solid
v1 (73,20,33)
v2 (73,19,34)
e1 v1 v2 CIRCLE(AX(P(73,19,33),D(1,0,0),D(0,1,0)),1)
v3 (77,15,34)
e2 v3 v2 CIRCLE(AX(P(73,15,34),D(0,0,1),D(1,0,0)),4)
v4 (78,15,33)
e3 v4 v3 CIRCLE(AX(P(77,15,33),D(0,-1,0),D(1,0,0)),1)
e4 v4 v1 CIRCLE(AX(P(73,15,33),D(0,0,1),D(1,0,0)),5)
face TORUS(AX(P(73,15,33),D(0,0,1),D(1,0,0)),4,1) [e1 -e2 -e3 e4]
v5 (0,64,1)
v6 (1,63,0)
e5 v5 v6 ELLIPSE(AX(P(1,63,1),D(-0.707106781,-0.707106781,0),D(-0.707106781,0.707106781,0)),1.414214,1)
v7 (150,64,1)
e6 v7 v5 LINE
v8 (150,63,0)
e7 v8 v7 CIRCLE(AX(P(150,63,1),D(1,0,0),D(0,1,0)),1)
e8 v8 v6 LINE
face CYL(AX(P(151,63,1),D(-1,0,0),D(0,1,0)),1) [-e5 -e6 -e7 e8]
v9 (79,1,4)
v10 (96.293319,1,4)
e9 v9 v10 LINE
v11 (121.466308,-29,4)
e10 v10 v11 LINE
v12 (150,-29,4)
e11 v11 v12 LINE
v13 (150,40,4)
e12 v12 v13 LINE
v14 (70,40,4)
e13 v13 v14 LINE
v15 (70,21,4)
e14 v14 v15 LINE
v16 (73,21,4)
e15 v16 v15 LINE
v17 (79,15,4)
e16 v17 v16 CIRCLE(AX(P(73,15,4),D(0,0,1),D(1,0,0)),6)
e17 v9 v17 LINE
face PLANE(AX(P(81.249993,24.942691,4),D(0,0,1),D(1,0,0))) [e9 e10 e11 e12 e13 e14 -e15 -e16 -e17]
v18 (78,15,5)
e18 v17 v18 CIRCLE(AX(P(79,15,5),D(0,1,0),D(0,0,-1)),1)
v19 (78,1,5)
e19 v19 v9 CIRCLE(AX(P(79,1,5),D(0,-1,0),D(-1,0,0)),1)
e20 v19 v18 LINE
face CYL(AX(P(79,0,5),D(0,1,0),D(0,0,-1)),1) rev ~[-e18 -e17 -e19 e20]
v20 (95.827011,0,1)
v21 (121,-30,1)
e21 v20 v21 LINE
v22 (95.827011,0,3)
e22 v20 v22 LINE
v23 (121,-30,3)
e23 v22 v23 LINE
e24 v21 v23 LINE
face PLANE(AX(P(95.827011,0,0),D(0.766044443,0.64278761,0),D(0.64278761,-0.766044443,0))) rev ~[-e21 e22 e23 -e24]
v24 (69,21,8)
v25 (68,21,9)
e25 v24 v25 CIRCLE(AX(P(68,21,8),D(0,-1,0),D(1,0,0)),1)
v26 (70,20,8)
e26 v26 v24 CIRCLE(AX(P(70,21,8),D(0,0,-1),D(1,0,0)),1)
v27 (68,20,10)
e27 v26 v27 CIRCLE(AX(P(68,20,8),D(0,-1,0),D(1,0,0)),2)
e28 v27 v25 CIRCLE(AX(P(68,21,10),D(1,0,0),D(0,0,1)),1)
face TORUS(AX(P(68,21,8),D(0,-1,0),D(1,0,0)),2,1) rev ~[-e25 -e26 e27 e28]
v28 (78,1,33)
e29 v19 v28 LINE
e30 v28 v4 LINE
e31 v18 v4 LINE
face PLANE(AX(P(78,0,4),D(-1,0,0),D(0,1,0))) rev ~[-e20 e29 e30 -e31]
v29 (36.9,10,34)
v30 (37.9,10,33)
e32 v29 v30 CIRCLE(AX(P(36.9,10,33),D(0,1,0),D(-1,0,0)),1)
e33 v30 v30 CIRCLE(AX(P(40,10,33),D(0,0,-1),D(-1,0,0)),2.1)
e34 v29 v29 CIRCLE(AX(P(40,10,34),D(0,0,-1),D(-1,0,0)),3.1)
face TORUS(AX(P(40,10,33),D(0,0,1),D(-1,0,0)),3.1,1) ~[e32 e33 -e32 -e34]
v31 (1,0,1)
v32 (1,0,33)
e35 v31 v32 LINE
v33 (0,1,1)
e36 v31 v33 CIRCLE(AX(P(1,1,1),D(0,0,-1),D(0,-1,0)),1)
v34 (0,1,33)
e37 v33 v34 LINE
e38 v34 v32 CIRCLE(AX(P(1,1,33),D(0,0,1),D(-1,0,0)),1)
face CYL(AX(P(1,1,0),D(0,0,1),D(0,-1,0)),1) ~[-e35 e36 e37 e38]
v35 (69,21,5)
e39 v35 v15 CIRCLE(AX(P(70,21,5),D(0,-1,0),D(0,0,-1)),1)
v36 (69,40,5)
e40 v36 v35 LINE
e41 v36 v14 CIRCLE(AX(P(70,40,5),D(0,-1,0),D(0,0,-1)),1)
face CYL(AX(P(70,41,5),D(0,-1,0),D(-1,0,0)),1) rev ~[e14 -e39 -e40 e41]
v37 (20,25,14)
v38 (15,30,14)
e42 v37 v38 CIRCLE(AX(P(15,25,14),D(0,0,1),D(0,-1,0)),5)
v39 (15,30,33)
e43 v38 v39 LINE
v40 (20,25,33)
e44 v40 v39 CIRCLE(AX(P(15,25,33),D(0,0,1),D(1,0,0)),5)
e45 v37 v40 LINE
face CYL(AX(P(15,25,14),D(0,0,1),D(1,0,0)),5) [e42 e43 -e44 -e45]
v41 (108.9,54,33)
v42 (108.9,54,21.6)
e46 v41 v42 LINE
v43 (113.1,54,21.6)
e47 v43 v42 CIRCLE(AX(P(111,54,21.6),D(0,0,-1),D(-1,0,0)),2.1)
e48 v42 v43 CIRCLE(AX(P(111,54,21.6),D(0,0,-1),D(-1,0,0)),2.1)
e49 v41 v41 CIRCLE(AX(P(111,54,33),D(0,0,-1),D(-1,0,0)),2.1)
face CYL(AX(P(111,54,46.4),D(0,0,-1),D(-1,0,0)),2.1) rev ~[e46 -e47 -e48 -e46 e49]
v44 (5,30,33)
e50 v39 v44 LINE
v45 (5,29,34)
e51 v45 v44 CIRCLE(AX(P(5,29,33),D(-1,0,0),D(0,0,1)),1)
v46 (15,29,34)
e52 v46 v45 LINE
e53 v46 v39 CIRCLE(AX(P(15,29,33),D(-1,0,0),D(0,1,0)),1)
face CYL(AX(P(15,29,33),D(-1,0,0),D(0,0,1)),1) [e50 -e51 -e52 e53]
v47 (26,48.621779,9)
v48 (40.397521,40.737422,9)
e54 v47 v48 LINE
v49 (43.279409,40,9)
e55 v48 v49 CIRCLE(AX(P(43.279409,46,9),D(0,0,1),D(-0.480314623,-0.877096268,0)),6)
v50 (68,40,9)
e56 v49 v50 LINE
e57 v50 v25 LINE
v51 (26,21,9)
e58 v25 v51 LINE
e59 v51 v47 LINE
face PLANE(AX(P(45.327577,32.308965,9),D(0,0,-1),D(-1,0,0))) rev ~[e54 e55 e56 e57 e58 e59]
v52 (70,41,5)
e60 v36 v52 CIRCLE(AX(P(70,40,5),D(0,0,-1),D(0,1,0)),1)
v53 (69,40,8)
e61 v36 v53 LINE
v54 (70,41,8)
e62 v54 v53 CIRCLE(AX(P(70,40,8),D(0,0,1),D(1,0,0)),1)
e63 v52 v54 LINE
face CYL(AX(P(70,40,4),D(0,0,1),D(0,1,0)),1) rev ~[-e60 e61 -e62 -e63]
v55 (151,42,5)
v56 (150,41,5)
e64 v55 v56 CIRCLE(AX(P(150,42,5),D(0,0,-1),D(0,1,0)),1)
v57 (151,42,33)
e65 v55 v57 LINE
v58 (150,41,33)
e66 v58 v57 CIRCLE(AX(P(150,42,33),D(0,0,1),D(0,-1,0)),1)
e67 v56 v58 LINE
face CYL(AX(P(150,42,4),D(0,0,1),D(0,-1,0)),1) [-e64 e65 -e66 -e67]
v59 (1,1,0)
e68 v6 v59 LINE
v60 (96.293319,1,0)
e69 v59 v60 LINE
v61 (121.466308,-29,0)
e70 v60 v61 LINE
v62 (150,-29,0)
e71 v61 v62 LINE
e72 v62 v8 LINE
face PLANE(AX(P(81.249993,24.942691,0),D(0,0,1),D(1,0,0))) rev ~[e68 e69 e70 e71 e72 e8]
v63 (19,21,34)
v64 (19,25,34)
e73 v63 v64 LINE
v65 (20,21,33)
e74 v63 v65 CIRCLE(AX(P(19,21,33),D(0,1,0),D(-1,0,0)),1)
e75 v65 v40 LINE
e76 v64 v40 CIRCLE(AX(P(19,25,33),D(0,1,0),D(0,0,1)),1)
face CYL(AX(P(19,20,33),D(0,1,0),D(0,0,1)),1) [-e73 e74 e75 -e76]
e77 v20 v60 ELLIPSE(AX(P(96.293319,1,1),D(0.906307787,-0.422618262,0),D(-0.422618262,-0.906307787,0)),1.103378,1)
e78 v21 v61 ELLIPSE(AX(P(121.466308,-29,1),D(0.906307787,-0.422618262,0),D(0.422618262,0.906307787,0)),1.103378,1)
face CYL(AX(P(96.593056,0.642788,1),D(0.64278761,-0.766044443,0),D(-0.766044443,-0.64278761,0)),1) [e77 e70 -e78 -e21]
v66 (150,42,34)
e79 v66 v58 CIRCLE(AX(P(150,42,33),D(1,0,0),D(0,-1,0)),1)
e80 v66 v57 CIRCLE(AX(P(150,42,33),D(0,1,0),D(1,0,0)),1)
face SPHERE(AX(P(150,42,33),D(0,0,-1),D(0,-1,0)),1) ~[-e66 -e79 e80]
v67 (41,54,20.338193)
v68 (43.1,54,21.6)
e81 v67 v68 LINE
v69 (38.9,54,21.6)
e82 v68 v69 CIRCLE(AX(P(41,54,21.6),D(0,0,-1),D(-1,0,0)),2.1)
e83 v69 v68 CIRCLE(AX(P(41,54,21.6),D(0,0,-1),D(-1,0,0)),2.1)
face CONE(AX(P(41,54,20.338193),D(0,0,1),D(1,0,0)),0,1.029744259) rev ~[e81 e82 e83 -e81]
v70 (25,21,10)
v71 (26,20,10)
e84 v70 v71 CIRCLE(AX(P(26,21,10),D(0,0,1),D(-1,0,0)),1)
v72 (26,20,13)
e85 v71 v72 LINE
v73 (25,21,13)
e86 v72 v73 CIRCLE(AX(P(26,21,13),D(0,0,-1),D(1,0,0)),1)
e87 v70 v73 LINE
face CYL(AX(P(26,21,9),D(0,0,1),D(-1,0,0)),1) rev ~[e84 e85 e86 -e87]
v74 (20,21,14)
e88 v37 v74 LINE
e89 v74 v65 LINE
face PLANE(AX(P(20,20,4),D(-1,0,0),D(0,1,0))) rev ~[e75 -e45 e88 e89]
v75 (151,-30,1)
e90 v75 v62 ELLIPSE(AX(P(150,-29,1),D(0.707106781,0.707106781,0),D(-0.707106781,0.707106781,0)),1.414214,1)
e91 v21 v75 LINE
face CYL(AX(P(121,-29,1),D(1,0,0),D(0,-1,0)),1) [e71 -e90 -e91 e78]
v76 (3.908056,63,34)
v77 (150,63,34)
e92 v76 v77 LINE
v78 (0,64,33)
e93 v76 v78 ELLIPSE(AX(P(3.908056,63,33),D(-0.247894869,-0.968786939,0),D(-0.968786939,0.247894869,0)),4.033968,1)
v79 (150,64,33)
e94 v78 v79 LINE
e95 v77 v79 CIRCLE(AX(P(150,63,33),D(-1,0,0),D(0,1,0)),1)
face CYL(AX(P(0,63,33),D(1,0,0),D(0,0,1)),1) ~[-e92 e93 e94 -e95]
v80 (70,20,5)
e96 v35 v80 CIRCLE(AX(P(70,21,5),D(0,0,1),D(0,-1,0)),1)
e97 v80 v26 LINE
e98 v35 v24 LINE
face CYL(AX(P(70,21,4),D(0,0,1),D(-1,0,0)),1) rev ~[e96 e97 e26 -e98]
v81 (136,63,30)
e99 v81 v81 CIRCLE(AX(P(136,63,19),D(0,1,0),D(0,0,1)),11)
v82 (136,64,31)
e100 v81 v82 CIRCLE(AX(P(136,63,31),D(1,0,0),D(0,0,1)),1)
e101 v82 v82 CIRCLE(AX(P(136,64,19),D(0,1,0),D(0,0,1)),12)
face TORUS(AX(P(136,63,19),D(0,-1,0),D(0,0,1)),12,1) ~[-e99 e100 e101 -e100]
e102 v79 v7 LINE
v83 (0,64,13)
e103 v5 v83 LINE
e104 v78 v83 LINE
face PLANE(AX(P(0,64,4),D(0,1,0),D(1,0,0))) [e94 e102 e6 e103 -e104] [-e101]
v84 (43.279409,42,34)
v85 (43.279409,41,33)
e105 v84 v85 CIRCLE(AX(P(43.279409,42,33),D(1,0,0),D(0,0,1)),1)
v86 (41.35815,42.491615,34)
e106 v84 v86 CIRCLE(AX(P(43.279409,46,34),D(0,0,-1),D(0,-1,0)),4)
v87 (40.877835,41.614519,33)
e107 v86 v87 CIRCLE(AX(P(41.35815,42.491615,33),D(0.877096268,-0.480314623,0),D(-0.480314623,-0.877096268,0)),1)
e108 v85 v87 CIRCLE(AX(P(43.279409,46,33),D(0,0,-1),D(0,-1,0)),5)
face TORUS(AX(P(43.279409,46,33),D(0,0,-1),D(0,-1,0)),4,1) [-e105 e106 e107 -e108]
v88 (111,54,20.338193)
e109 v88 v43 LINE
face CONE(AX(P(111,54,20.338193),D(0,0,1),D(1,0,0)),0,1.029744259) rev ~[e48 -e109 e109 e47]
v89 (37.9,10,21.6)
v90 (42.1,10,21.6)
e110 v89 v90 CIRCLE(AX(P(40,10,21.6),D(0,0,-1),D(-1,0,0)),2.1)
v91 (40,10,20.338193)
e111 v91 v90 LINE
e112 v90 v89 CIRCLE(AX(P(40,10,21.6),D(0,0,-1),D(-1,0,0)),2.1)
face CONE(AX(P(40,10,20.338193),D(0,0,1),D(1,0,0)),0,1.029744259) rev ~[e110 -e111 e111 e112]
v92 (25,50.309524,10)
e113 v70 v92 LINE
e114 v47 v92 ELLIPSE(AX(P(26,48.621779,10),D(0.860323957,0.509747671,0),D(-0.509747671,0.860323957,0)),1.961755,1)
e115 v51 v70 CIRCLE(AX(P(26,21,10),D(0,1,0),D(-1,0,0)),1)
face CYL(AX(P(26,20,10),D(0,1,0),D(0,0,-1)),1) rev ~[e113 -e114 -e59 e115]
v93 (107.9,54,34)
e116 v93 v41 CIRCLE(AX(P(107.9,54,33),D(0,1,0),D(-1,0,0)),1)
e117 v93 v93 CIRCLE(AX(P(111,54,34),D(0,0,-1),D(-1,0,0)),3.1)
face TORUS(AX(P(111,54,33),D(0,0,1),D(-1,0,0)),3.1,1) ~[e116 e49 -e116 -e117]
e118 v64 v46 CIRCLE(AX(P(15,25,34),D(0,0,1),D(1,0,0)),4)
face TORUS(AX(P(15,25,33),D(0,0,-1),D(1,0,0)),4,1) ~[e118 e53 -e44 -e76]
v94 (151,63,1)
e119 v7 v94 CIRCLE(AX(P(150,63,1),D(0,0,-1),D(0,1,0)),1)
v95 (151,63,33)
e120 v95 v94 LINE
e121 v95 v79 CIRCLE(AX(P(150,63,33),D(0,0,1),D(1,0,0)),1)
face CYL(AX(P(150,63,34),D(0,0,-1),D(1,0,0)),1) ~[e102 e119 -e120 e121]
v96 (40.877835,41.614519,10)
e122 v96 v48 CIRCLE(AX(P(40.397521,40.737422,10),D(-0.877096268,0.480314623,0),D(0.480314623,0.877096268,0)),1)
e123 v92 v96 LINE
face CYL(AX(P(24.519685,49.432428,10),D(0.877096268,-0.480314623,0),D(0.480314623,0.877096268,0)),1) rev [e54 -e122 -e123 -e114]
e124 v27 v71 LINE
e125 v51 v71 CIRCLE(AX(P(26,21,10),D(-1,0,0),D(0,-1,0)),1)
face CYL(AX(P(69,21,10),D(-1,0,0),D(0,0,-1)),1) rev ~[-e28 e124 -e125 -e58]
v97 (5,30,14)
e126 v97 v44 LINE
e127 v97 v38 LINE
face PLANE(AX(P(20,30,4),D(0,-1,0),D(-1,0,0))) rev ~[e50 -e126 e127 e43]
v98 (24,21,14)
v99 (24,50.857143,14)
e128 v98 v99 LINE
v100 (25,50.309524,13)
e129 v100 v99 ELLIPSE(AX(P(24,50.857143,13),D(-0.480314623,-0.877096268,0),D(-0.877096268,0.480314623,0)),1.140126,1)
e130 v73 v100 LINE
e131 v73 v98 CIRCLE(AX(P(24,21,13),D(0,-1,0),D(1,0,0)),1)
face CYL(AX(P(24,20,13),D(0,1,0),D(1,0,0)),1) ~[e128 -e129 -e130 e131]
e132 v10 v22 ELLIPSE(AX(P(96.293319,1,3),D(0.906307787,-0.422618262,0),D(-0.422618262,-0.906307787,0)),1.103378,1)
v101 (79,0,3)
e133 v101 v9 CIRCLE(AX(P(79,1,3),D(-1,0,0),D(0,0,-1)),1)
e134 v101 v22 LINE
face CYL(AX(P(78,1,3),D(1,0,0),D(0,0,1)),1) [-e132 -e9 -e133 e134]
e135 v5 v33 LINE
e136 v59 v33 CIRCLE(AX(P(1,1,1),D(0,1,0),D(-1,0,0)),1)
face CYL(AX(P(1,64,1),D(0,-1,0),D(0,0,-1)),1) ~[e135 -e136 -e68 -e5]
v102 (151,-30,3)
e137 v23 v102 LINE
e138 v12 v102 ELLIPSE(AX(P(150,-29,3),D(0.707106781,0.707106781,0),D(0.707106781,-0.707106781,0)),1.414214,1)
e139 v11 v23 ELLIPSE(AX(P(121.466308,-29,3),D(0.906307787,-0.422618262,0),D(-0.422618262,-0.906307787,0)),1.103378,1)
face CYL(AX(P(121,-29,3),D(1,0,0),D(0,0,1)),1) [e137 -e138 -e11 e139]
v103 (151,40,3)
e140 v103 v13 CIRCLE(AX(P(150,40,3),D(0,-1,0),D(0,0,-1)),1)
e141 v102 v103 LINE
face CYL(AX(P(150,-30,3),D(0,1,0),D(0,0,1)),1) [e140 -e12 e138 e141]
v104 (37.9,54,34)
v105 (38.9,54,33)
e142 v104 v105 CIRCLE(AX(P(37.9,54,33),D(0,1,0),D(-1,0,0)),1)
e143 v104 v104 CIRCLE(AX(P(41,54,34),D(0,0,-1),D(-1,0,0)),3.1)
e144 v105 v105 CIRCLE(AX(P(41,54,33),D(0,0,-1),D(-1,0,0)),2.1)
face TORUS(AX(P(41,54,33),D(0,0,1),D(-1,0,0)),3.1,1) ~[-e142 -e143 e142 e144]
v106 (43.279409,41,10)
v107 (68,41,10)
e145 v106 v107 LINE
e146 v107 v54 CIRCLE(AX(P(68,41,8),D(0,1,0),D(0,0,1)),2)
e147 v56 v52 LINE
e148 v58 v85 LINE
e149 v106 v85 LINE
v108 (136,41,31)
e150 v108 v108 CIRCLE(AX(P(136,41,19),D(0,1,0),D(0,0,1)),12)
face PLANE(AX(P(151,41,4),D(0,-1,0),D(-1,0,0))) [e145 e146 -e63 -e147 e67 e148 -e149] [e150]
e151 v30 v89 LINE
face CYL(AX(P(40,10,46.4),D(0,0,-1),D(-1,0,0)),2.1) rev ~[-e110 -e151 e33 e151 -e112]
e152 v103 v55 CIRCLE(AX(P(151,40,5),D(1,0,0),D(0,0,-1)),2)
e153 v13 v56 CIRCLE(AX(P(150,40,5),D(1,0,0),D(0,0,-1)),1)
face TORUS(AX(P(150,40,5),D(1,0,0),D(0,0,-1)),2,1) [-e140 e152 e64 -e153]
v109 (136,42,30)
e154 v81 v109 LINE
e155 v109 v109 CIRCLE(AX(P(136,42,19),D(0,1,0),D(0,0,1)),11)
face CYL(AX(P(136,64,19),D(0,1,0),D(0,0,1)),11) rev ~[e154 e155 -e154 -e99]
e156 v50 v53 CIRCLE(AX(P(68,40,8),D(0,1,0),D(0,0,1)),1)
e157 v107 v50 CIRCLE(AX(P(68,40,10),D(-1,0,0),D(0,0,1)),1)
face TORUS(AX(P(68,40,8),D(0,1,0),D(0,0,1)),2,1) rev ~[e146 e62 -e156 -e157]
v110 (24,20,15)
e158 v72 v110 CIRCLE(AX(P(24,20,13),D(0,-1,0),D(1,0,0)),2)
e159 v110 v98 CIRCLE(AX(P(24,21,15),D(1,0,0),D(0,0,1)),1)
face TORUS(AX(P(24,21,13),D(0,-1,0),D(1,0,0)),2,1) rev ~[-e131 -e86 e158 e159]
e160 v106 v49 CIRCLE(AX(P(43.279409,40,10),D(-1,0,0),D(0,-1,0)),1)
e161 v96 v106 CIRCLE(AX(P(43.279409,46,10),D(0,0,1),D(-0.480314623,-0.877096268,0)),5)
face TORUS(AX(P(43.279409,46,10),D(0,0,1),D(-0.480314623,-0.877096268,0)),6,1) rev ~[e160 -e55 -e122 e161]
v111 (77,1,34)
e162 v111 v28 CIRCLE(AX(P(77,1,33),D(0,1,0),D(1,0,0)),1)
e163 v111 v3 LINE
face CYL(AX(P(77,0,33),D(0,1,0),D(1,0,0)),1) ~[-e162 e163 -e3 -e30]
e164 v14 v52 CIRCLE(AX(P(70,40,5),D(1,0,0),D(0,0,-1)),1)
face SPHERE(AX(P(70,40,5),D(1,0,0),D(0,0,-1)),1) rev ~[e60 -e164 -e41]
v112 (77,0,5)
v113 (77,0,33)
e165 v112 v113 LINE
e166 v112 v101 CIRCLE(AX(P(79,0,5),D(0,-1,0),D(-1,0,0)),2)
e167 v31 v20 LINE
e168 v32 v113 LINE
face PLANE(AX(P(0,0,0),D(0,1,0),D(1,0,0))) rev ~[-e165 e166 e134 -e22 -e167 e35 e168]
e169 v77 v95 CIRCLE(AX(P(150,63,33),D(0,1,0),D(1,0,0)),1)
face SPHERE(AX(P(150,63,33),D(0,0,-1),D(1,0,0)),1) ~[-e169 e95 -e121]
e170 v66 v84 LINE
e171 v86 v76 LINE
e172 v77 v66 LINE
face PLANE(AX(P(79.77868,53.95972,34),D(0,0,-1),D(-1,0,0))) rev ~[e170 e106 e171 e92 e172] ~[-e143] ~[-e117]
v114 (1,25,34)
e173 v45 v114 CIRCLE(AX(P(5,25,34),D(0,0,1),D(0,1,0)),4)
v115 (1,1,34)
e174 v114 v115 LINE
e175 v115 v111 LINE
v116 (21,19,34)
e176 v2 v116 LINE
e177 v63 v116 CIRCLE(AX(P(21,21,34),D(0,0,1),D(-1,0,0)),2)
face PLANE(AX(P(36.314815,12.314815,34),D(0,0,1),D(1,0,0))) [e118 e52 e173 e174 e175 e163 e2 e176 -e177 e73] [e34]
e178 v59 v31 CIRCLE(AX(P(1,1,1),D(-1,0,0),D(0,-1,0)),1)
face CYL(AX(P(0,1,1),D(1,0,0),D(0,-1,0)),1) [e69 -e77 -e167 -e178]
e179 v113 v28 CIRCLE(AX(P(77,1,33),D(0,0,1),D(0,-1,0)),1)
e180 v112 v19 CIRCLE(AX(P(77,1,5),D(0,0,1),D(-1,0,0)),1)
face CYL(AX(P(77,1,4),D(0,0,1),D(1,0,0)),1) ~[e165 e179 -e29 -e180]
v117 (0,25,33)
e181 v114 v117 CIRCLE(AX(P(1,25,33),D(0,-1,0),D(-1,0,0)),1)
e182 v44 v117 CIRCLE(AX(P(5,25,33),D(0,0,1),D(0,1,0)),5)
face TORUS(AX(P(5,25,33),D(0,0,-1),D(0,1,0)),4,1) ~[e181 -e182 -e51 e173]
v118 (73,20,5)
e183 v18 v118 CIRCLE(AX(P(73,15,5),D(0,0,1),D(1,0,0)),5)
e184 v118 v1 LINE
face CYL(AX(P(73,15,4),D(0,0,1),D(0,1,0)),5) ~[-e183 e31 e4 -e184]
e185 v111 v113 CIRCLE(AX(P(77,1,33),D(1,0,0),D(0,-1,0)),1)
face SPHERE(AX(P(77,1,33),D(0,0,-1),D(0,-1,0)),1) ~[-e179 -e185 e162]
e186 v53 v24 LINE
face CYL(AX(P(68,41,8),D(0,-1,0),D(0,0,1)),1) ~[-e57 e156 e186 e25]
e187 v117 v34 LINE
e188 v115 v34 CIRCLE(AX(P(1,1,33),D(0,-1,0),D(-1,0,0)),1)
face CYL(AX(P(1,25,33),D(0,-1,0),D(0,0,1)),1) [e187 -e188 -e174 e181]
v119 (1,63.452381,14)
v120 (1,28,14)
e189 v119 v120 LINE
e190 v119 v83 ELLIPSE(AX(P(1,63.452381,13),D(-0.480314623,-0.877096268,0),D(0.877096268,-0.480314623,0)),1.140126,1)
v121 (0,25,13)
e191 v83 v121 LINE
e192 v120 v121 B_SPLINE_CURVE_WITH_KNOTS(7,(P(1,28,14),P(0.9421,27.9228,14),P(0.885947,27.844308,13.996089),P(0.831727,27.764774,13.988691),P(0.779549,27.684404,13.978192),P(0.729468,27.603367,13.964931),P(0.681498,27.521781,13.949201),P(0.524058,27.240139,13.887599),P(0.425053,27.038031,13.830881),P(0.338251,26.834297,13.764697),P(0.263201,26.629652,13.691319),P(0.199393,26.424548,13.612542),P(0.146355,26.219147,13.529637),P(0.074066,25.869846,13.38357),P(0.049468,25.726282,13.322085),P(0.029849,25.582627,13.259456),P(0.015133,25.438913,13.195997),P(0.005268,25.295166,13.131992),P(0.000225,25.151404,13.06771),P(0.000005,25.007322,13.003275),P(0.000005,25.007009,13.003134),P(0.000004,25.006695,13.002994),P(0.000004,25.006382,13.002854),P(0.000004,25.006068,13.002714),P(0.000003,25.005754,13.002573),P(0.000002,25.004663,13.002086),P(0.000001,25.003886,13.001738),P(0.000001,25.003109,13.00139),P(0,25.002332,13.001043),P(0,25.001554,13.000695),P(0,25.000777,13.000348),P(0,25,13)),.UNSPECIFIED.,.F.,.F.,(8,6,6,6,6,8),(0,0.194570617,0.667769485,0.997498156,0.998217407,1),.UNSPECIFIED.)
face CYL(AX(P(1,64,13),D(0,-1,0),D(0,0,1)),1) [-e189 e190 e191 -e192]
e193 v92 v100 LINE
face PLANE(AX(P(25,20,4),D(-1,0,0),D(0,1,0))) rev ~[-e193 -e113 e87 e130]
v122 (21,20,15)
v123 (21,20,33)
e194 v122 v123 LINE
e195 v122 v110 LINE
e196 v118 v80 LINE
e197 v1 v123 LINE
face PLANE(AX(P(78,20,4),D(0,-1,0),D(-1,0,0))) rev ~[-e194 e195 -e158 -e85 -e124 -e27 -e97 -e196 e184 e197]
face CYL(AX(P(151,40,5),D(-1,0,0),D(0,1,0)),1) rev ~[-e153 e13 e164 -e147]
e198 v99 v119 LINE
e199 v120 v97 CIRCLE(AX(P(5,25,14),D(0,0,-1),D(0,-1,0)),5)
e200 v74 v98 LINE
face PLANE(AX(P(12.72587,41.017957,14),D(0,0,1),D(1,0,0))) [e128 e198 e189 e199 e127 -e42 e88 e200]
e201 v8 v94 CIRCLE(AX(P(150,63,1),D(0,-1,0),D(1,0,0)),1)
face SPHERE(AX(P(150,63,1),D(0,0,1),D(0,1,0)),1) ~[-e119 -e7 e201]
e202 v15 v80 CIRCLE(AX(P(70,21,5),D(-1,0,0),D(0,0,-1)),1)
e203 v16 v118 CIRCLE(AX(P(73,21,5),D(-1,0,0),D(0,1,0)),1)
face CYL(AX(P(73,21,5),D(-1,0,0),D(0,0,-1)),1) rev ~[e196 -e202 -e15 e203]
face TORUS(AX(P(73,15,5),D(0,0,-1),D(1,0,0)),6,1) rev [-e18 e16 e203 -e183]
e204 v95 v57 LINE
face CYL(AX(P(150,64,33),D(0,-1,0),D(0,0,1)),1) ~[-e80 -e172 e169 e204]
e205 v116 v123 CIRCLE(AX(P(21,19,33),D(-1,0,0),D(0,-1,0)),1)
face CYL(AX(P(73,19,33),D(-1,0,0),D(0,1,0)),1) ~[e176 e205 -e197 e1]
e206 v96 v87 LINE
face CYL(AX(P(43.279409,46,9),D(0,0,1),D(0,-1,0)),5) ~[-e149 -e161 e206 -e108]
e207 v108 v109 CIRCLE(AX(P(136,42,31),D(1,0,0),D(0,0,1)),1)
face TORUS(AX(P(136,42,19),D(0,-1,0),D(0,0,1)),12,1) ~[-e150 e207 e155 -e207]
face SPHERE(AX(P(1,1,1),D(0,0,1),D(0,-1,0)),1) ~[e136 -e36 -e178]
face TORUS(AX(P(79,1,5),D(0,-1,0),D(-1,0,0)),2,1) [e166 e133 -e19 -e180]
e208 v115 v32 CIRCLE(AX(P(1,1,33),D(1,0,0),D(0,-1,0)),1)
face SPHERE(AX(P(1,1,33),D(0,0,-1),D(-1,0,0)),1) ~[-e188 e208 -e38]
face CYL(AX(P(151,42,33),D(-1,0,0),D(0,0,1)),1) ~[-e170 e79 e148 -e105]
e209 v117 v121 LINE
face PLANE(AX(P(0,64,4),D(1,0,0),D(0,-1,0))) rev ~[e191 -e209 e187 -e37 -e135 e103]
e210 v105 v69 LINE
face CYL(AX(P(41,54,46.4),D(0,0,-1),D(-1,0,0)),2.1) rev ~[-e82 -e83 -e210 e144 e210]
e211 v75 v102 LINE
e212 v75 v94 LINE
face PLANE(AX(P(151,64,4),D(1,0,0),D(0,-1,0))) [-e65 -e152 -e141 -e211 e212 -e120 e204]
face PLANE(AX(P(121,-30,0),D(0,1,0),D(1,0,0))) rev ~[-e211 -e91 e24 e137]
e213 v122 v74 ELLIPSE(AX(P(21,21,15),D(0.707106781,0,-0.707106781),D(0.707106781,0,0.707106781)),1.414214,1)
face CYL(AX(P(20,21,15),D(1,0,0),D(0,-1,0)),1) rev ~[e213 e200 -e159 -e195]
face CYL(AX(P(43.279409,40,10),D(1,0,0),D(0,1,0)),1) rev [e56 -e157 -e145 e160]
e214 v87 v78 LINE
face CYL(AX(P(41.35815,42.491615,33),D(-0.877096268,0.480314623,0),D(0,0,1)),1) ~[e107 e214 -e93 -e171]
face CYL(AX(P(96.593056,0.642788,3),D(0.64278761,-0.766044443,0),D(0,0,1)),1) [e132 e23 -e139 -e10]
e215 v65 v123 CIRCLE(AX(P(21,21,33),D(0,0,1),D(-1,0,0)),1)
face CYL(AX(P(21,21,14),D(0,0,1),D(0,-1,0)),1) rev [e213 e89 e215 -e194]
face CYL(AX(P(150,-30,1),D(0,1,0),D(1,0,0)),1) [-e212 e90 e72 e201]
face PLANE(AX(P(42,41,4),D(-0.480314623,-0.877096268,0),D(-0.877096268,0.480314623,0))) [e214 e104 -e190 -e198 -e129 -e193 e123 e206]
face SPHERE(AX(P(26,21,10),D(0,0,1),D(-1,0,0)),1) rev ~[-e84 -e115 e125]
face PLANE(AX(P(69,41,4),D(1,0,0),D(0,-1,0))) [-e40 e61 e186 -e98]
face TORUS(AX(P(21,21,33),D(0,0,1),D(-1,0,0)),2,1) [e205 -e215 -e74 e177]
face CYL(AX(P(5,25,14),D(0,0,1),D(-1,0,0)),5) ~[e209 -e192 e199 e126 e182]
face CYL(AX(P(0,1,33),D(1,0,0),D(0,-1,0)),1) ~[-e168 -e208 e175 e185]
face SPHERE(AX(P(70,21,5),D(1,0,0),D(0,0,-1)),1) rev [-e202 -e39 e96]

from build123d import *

# Parameters (mm, degrees)
BOSS_EXTRUDE1_DEPTH   = 4
BOSS_EXTRUDE2_DEPTH   = 30
BOSS_EXTRUDE3_DEPTH   = 10
BOSS_EXTRUDE4_DEPTH   = 5
FILLET1_R             = 5
CUT_EXTRUDE1_REACH    = 183.088
SKETCH5_R             = 11
M5_TAPPED_HOLE1_D     = 4.2
M5_TAPPED_HOLE1_DEPTH = 12.4
M5_TAPPED_HOLE1_TIP   = 1.2618073
FILLET3_R             = 1


with BuildPart() as part:
    # Sketch1 → Boss-Extrude1 (new body)
    with BuildSketch(Plane.XY):
        Polygon((95.827011065, 0), (121, -30), (151, -30), (151, 64), (0, 64), (0, 0), align=None)
    extrude(amount=BOSS_EXTRUDE1_DEPTH)

    # Sketch2 → Boss-Extrude2 (add)
    with BuildSketch(Plane.XY.offset(4)):
        Polygon((0, 64), (151, 64), (151, 41), (42, 41), align=None)
        Polygon((20, 20), (20, 30), (0, 30), (0, 0), (78, 0), (78, 20), align=None)
    extrude(amount=BOSS_EXTRUDE2_DEPTH)

    # Sketch3 → Boss-Extrude3 (add)
    with BuildSketch(Plane.XY.offset(4)):
        Polygon((25, 20), (25, 50.30952381), (0, 64), (0, 30), (20, 30), (20, 20), align=None)
    extrude(amount=BOSS_EXTRUDE3_DEPTH)

    # Sketch4 → Boss-Extrude4 (add)
    with BuildSketch(Plane.XY.offset(4)):
        Polygon((25, 50.30952381), (42, 41), (69, 41), (69, 20), (25, 20), align=None)
    extrude(amount=BOSS_EXTRUDE4_DEPTH)

    # Fillet1
    fillet1_edges = [part.edges().sort_by_distance(p)[0] for p in [
        (42, 41, 21.5),
        (78, 20, 19),
        (20, 30, 24),
        (0, 30, 24),
    ]]
    fillet(fillet1_edges, radius=FILLET1_R)

    # Sketch5 → Cut-Extrude1 (cut, up to next)
    with BuildSketch(Plane(origin=(0, 64, 0), x_dir=(1, 0, 0), z_dir=(0, 1, 0)), mode=Mode.PRIVATE) as cut_extrude1_sk1:
        with Locations(Location((136, -19, 0), (0, 0, 270))):
            Circle(SKETCH5_R)
    cut_extrude1_tool1 = extrude(cut_extrude1_sk1.sketch, amount=-CUT_EXTRUDE1_REACH, mode=Mode.PRIVATE) & part.part
    add(cut_extrude1_tool1.solids().sort_by_distance((136, 64, 19))[0], mode=Mode.SUBTRACT)

    # M5 Tapped Hole1
    with Locations(Plane.XY.offset(34)):
        with Locations((41, 54), (111, 54), (40, 10)):
            Hole(M5_TAPPED_HOLE1_D / 2, depth=M5_TAPPED_HOLE1_DEPTH)
            with Locations((0, 0, -(M5_TAPPED_HOLE1_DEPTH + M5_TAPPED_HOLE1_TIP / 2))):  # 118° drill point
                Cone(0, M5_TAPPED_HOLE1_D / 2, M5_TAPPED_HOLE1_TIP, mode=Mode.SUBTRACT)

    # Fillet3
    fillet3_edges = [part.edges().sort_by_distance(p)[0] for p in [
        (151, 64, 17),
        (0, 0, 17),
        (136, 64, 8),
        (136, 41, 8),
        (42.1, 10, 34),
        (113.1, 54, 34),
        (108.413505532, -15, 4),
        (43.1, 54, 34),
        (136, -30, 4),
        (151, 5.5, 4),
        (151, 41, 19),
        (20.438917744, 52.80725933, 34),
        (151, 52.5, 34),
        (75.5, 64, 34),
        (86.913505532, 0, 4),
        (20, 20, 24),
        (78, 7.5, 4),
        (78, 0, 19),
        (20, 22.5, 34),
        (39, 0, 34),
        (78, 7.5, 34),
        (25, 20, 11.5),
        (22.5, 20, 14),
        (25, 35.154761905, 14),
        (0, 44.5, 14),
        (75.5, 64, 0),
        (110, 41, 4),
        (151, 17, 0),
        (69, 30.5, 4),
        (69, 20, 6.5),
        (69, 41, 6.5),
        (136, -30, 0),
        (25, 35.154761905, 9),
        (47, 20, 9),
        (69, 30.5, 9),
        (56.139704302, 41, 9),
        (108.413505532, -15, 0),
        (47.913505532, 0, 0),
        (46.5, 20, 34),
        (71, 20, 4),
        (0, 32, 0),
        (10, 30, 34),
        (0, 12.5, 34),
        (18.535533906, 28.535533906, 34),
        (1.464466094, 28.535533906, 34),
        (76.535533906, 18.535533906, 34),
        (97.139704302, 41, 34),
        (32.938917744, 45.962021235, 9),
        (42.039934258, 41.156065303, 34),
        (76.535533906, 18.535533906, 4),
        (42.039934258, 41.156065303, 9),
    ]]
    fillet(fillet3_edges, radius=FILLET3_R)


solid = part.part
